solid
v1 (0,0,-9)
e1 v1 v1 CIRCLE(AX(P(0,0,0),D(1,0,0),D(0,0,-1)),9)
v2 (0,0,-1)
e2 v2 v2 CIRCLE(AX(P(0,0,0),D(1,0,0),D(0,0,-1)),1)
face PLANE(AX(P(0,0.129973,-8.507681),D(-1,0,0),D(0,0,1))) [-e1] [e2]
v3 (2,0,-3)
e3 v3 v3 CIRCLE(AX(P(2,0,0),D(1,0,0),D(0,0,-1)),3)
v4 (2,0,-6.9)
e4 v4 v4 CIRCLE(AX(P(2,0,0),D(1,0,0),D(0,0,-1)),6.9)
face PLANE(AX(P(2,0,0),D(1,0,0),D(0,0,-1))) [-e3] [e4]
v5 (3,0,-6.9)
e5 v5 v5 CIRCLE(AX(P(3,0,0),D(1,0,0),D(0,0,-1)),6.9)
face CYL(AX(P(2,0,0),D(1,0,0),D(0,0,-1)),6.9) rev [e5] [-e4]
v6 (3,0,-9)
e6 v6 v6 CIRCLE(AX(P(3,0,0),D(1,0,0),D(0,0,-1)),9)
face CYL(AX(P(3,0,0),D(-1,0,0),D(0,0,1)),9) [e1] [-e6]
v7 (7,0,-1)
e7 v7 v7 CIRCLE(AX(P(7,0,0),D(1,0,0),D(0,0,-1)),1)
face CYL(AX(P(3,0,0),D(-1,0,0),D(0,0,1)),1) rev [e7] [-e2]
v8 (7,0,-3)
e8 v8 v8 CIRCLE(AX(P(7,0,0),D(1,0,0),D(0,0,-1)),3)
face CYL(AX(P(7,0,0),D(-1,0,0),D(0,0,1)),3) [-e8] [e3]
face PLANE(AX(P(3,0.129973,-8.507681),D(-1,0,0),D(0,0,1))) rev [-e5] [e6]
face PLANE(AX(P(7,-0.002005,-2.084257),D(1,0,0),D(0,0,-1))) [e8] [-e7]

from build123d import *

# Parameters (mm, degrees)
ESQUISSE2_R             = 1
BOSS_EXTRU_1_DEPTH      = 3
ESQUISSE3_R             = 6.9
ENL_V_MAT_EXTRU_1_DEPTH = 1
ESQUISSE4_R             = 1
BOSS_EXTRU_2_DEPTH      = 5
BOSS_EXTRU_3_START      = -5
ESQUISSE6_R             = 3
ESQUISSE6_R_2           = 1
BOSS_EXTRU_3_DEPTH      = 5
BOSS_EXTRU_4_START      = -3
ESQUISSE7_R             = 9
ESQUISSE7_R_2           = 6.9
BOSS_EXTRU_4_DEPTH      = 3


with BuildPart() as part:
    # Esquisse2 → Boss.-Extru.1 (new body)
    with BuildSketch(Plane(origin=(0, 0, 0), x_dir=(0, 0, -1), z_dir=(1, 0, 0))):
        with BuildLine():
            ThreePointArc((8.992678526, 0.362950305), (8.983203595, 0.549593642), (8.969855294, 0.736000007))
            add(Edge.make_bspline(
                [(7.928017131, 0.973718567), (7.968735547, 0.978720051), (8.14599471, 0.972060465), (8.43210917, 0.923262044), (8.735368899, 0.829543111), (8.90576586, 0.762906571), (8.969855294, 0.736000007)],
                knots=[0, 0, 0, 0, 0.124841327, 0.52877899, 0.867841808, 1.076016146, 1.076016146, 1.076016146, 1.076016146], degree=3))
            ThreePointArc((7.928017131, 0.973718567), (7.845145349, 0.995861242), (7.801971612, 1.069983161))
            ThreePointArc((7.801971612, 1.069983161), (7.782401197, 1.204099918), (7.760525474, 1.337859996))
            ThreePointArc((7.760525474, 1.337859996), (7.7791127, 1.421320515), (7.851006147, 1.467607399))
            add(Edge.make_bspline(
                [(7.851006147, 1.467607399), (7.891911369, 1.47525391), (8.058869705, 1.535171146), (8.316858832, 1.668153777), (8.577616241, 1.849137964), (8.719907754, 1.964153953), (8.772869142, 2.009170729)],
                knots=[0, 0, 0, 0, 0.124841327, 0.52877899, 0.867841808, 1.076016146, 1.076016146, 1.076016146, 1.076016146], degree=3))
            ThreePointArc((8.772869142, 2.009170729), (8.729259916, 2.190895095), (8.681886815, 2.371674793))
            add(Edge.make_bspline(
                [(7.614107256, 2.413908484), (7.653213344, 2.426306797), (7.828678029, 2.452331888), (8.118887532, 2.456937748), (8.434204497, 2.420538386), (8.613944558, 2.38634682), (8.681886815, 2.371674793)],
                knots=[0, 0, 0, 0, 0.124841327, 0.52877899, 0.867841808, 1.076016146, 1.076016146, 1.076016146, 1.076016146], degree=3))
            ThreePointArc((7.614107256, 2.413908484), (7.528577818, 2.420446487), (7.472519329, 2.485373186))
            ThreePointArc((7.472519329, 2.485373186), (7.428638248, 2.613610296), (7.382556651, 2.741073201))
            ThreePointArc((7.382556651, 2.741073201), (7.385491564, 2.82652804), (7.447655696, 2.885237188))
            add(Edge.make_bspline(
                [(7.447655696, 2.885237188), (7.486459386, 2.900269817), (7.639565176, 2.989845363), (7.868726054, 3.167969089), (8.091787815, 3.393785724), (8.210522412, 3.532989345), (8.254310221, 3.586971254)],
                knots=[0, 0, 0, 0, 0.124841327, 0.52877899, 0.867841808, 1.076016146, 1.076016146, 1.076016146, 1.076016146], degree=3))
            ThreePointArc((8.254310221, 3.586971254), (8.17805176, 3.757588243), (8.098267094, 3.926585039))
            add(Edge.make_bspline(
                [(7.040908091, 3.771895641), (7.077070139, 3.791268575), (7.244765106, 3.849092091), (7.529186917, 3.906945383), (7.845823377, 3.92910513), (8.028785705, 3.928522889), (8.098267094, 3.926585039)],
                knots=[0, 0, 0, 0, 0.124841327, 0.52877899, 0.867841808, 1.076016146, 1.076016146, 1.076016146, 1.076016146], degree=3))
            ThreePointArc((7.040908091, 3.771895641), (6.955633599, 3.76260633), (6.888599363, 3.816126808))
            ThreePointArc((6.888599363, 3.816126808), (6.821901934, 3.93411731), (6.753183716, 4.050942446))
            ThreePointArc((6.753183716, 4.050942446), (6.740366371, 4.135481543), (6.790684263, 4.204613685))
            add(Edge.make_bspline(
                [(6.790684263, 4.204613685), (6.826065008, 4.226520515), (6.960104418, 4.342703981), (7.152633247, 4.559903013), (7.33040326, 4.822862182), (7.421537577, 4.981513022), (7.454660665, 5.042621775)],
                knots=[0, 0, 0, 0, 0.124841327, 0.52877899, 0.867841808, 1.076016146, 1.076016146, 1.076016146, 1.076016146], degree=3))
            ThreePointArc((7.454660665, 5.042621775), (7.34834986, 5.19632123), (7.2388706, 5.34778014))
            add(Edge.make_bspline(
                [(6.227939246, 5.001435417), (6.259925799, 5.027123248), (6.414140397, 5.114776078), (6.683088872, 5.223906679), (6.990262151, 5.303870911), (7.170216185, 5.336917824), (7.2388706, 5.34778014)],
                knots=[0, 0, 0, 0, 0.124841327, 0.52877899, 0.867841808, 1.076016146, 1.076016146, 1.076016146, 1.076016146], degree=3))
            ThreePointArc((6.227939246, 5.001435417), (6.14582362, 4.976635127), (6.070096408, 5.016926809))
            ThreePointArc((6.070096408, 5.016926809), (5.982853931, 5.120652678), (5.893839209, 5.222861704))
            ThreePointArc((5.893839209, 5.222861704), (5.865706085, 5.303606182), (5.902464222, 5.380807106))
            add(Edge.make_bspline(
                [(5.902464222, 5.380807106), (5.933217173, 5.408842125), (6.043625651, 5.547677024), (6.192966094, 5.79655491), (6.319390614, 6.087701853), (6.379821181, 6.260397247), (6.401151581, 6.32655186)],
                knots=[0, 0, 0, 0, 0.124841327, 0.52877899, 0.867841808, 1.076016146, 1.076016146, 1.076016146, 1.076016146], degree=3))
            ThreePointArc((6.401151581, 6.32655186), (6.268408719, 6.45809973), (6.13296305, 6.586863003))
            add(Edge.make_bspline(
                [(5.202885399, 6.060657308), (5.229607193, 6.091785269), (5.36508983, 6.206282501), (5.60940625, 6.362974098), (5.896655932, 6.498019729), (6.067473552, 6.563570423), (6.13296305, 6.586863003)],
                knots=[0, 0, 0, 0, 0.124841327, 0.52877899, 0.867841808, 1.076016146, 1.076016146, 1.076016146, 1.076016146], degree=3))
            ThreePointArc((5.202885399, 6.060657308), (5.126724989, 6.021190583), (5.044883599, 6.046881384))
            ThreePointArc((5.044883599, 6.046881384), (4.940067013, 6.13281036), (4.833787077, 6.216922671))
            ThreePointArc((4.833787077, 6.216922671), (4.791296214, 6.291122873), (4.813242841, 6.373763594))
            add(Edge.make_bspline(
                [(4.813242841, 6.373763594), (4.838320743, 6.406972104), (4.921338461, 6.563730579), (5.022404908, 6.835812081), (5.0931787, 7.145232139), (5.120847626, 7.326091153), (5.129658958, 7.395038808)],
                knots=[0, 0, 0, 0, 0.124841327, 0.52877899, 0.867841808, 1.076016146, 1.076016146, 1.076016146, 1.076016146], degree=3))
            ThreePointArc((5.129658958, 7.395038808), (4.975004437, 7.49995539), (4.818204799, 7.601638147))
            add(Edge.make_bspline(
                [(4.00065353, 6.913490784), (4.021200587, 6.948998848), (4.133337563, 7.086441417), (4.344702027, 7.285358066), (4.602246167, 7.470886279), (4.758110384, 7.566708503), (4.818204799, 7.601638147)],
                knots=[0, 0, 0, 0, 0.124841327, 0.52877899, 0.867841808, 1.076016146, 1.076016146, 1.076016146, 1.076016146], degree=3))
            ThreePointArc((4.00065353, 6.913490784), (3.933041887, 6.860701616), (3.84787333, 6.870916666))
            ThreePointArc((3.84787333, 6.870916666), (3.729052038, 6.936122541), (3.609126123, 6.999273793))
            ThreePointArc((3.609126123, 6.999273793), (3.553724497, 7.06440292), (3.560112248, 7.149669208))
            add(Edge.make_bspline(
                [(3.560112248, 7.149669208), (3.578661103, 7.186920332), (3.631460993, 7.356264162), (3.680811746, 7.64228387), (3.693524693, 7.959440113), (3.687489747, 8.142303811), (3.683481951, 8.21169658)],
                knots=[0, 0, 0, 0, 0.124841327, 0.52877899, 0.867841808, 1.076016146, 1.076016146, 1.076016146, 1.076016146], degree=3))
            ThreePointArc((3.683481951, 8.21169658), (3.512182346, 8.286409063), (3.339368362, 8.35754862))
            add(Edge.make_bspline(
                [(2.662184203, 7.530893622), (2.675856818, 7.569572607), (2.760829443, 7.72528007), (2.932044187, 7.959647903), (3.151112429, 8.189340757), (3.286715474, 8.3121714), (3.339368362, 8.35754862)],
                knots=[0, 0, 0, 0, 0.124841327, 0.52877899, 0.867841808, 1.076016146, 1.076016146, 1.076016146, 1.076016146], degree=3))
            ThreePointArc((2.662184203, 7.530893622), (2.605423761, 7.466579684), (2.51982835, 7.460971122))
            ThreePointArc((2.51982835, 7.460971122), (2.391048668, 7.503233388), (2.261560708, 7.543273041))
            ThreePointArc((2.261560708, 7.543273041), (2.195134954, 7.597113198), (2.185746302, 7.682101412))
            add(Edge.make_bspline(
                [(2.185746302, 7.682101412), (2.197134452, 7.722126608), (2.217918476, 7.898288992), (2.213872956, 8.188506848), (2.168092134, 8.502598901), (2.128558827, 8.681240079), (2.111868384, 8.748714873)],
                knots=[0, 0, 0, 0, 0.124841327, 0.52877899, 0.867841808, 1.076016146, 1.076016146, 1.076016146, 1.076016146], degree=3))
            ThreePointArc((2.111868384, 8.748714873), (1.929757098, 8.790679015), (1.74681374, 8.8288528))
            add(Edge.make_bspline(
                [(1.233057386, 7.891840911), (1.239389954, 7.932373648), (1.294304588, 8.101043575), (1.419539098, 8.362881478), (1.592671336, 8.628917058), (1.70339541, 8.77457327), (1.74681374, 8.8288528)],
                knots=[0, 0, 0, 0, 0.124841327, 0.52877899, 0.867841808, 1.076016146, 1.076016146, 1.076016146, 1.076016146], degree=3))
            ThreePointArc((1.233057386, 7.891840911), (1.189081054, 7.818192336), (1.105973638, 7.796951155))
            ThreePointArc((1.105973638, 7.796951155), (0.971621004, 7.81483062), (0.836980555, 7.830395172))
            ThreePointArc((0.836980555, 7.830395172), (0.761792723, 7.871112898), (0.736947387, 7.952928866))
            add(Edge.make_bspline(
                [(0.736947387, 7.952928866), (0.740787022, 7.994365125), (0.728847405, 8.171347063), (0.671543377, 8.455880046), (0.568827797, 8.756211882), (0.49714239, 8.924547128), (0.468337672, 8.987806174)],
                knots=[0, 0, 0, 0, 0.124841327, 0.52877899, 0.867841808, 1.076016146, 1.076016146, 1.076016146, 1.076016146], degree=3))
            ThreePointArc((0.468337672, 8.987806174), (0.281616286, 8.995592936), (0.094773472, 8.999500986))
            add(Edge.make_bspline(
                [(-0.238059721, 7.984041022), (-0.239282848, 8.02504722), (-0.216296258, 8.200935757), (-0.141306691, 8.481327153), (-0.020006268, 8.774645937), (0.062068259, 8.938167571), (0.094773472, 8.999500986)],
                knots=[0, 0, 0, 0, 0.124841327, 0.52877899, 0.867841808, 1.076016146, 1.076016146, 1.076016146, 1.076016146], degree=3))
            ThreePointArc((-0.238059721, 7.984041022), (-0.267754383, 7.903565825), (-0.34554368, 7.867415368))
            ThreePointArc((-0.34554368, 7.867415368), (-0.480894049, 7.860303169), (-0.616101967, 7.850862587))
            ThreePointArc((-0.616101967, 7.850862587), (-0.697491446, 7.877071289), (-0.736947387, 7.952928866))
            add(Edge.make_bspline(
                [(-0.736947387, 7.952928866), (-0.740787022, 7.994365125), (-0.78504369, 8.166139711), (-0.893654807, 8.435298391), (-1.049807289, 8.711642568), (-1.151203635, 8.863939428), (-1.191141718, 8.920828516)],
                knots=[0, 0, 0, 0, 0.124841327, 0.52877899, 0.867841808, 1.076016146, 1.076016146, 1.076016146, 1.076016146], degree=3))
            ThreePointArc((-1.191141718, 8.920828516), (-1.376114631, 8.894172728), (-1.560494193, 8.863681959))
            add(Edge.make_bspline(
                [(-1.70106999, 7.804354193), (-1.70980716, 7.844437433), (-1.719531394, 8.021554909), (-1.697340451, 8.310951405), (-1.632002584, 8.621564774), (-1.581372552, 8.797383295), (-1.560494193, 8.863681959)],
                knots=[0, 0, 0, 0, 0.124841327, 0.52877899, 0.867841808, 1.076016146, 1.076016146, 1.076016146, 1.076016146], degree=3))
            ThreePointArc((-1.70106999, 7.804354193), (-1.715471765, 7.719792859), (-1.785293922, 7.669964186))
            ThreePointArc((-1.785293922, 7.669964186), (-1.917032831, 7.638102521), (-2.048203875, 7.603978293))
            ThreePointArc((-2.048203875, 7.603978293), (-2.13302338, 7.614785465), (-2.185746302, 7.682101412))
            add(Edge.make_bspline(
                [(-2.185746302, 7.682101412), (-2.197134452, 7.722126608), (-2.272201064, 7.882844264), (-2.428420647, 8.127462766), (-2.632692446, 8.370408715), (-2.760346802, 8.501480902), (-2.810058205, 8.550062742)],
                knots=[0, 0, 0, 0, 0.124841327, 0.52877899, 0.867841808, 1.076016146, 1.076016146, 1.076016146, 1.076016146], degree=3))
            ThreePointArc((-2.810058205, 8.550062742), (-2.986983615, 8.489872136), (-3.1626211, 8.426020875))
            add(Edge.make_bspline(
                [(-3.106152361, 7.358899441), (-3.12210604, 7.396694737), (-3.164209951, 7.569009628), (-3.195573318, 7.857556174), (-3.188423008, 8.174886562), (-3.170961618, 8.357014683), (-3.1626211, 8.426020875)],
                knots=[0, 0, 0, 0, 0.124841327, 0.52877899, 0.867841808, 1.076016146, 1.076016146, 1.076016146, 1.076016146], degree=3))
            ThreePointArc((-3.106152361, 7.358899441), (-3.104770813, 7.273131606), (-3.164248122, 7.211321573))
            ThreePointArc((-3.164248122, 7.211321573), (-3.287889359, 7.155795453), (-3.410556657, 7.098149639))
            ThreePointArc((-3.410556657, 7.098149639), (-3.49591776, 7.093187254), (-3.560112248, 7.149669208))
            add(Edge.make_bspline(
                [(-3.560112248, 7.149669208), (-3.578661103, 7.186920332), (-3.681981355, 7.331108011), (-3.880489536, 7.542856145), (-4.125924419, 7.744130633), (-4.275489668, 7.84951464), (-4.33328153, 7.888134836)],
                knots=[0, 0, 0, 0, 0.124841327, 0.52877899, 0.867841808, 1.076016146, 1.076016146, 1.076016146, 1.076016146], degree=3))
            ThreePointArc((-4.33328153, 7.888134836), (-4.496134454, 7.79645913), (-4.657048739, 7.701421755))
            add(Edge.make_bspline(
                [(-4.405458438, 6.662846196), (-4.428085343, 6.697066474), (-4.501135134, 6.858710803), (-4.584984768, 7.136581292), (-4.636265512, 7.449822393), (-4.652567389, 7.632057959), (-4.657048739, 7.701421755)],
                knots=[0, 0, 0, 0, 0.124841327, 0.52877899, 0.867841808, 1.076016146, 1.076016146, 1.076016146, 1.076016146], degree=3))
            ThreePointArc((-4.405458438, 6.662846196), (-4.388340616, 6.578792579), (-4.435447646, 6.507106053))
            ThreePointArc((-4.435447646, 6.507106053), (-4.546780759, 6.429806352), (-4.656767022, 6.350602011))
            ThreePointArc((-4.656767022, 6.350602011), (-4.739762855, 6.330039059), (-4.813242841, 6.373763594))
            add(Edge.make_bspline(
                [(-4.813242841, 6.373763594), (-4.838320743, 6.406972104), (-4.966376188, 6.529719667), (-5.200413007, 6.701386604), (-5.478652985, 6.85413547), (-5.645035862, 6.930242572), (-5.70894015, 6.957585958)],
                knots=[0, 0, 0, 0, 0.124841327, 0.52877899, 0.867841808, 1.076016146, 1.076016146, 1.076016146, 1.076016146], degree=3))
            ThreePointArc((-5.70894015, 6.957585958), (-5.852174827, 6.83754706), (-5.992886168, 6.714559954))
            add(Edge.make_bspline(
                [(-5.554741912, 5.739897714), (-5.58327151, 5.769377644), (-5.684779557, 5.914846807), (-5.81826006, 6.172578694), (-5.926225553, 6.471063457), (-5.975735558, 6.647200654), (-5.992886168, 6.714559954)],
                knots=[0, 0, 0, 0, 0.124841327, 0.52877899, 0.867841808, 1.076016146, 1.076016146, 1.076016146, 1.076016146], degree=3))
            ThreePointArc((-5.554741912, 5.739897714), (-5.522470742, 5.660420661), (-5.555603321, 5.58129884))
            ThreePointArc((-5.555603321, 5.58129884), (-5.650836993, 5.484857908), (-5.744396771, 5.386792249))
            ThreePointArc((-5.744396771, 5.386792249), (-5.82220101, 5.351328976), (-5.902464222, 5.380807106))
            add(Edge.make_bspline(
                [(-5.902464222, 5.380807106), (-5.933217173, 5.408842125), (-6.081647036, 5.505969552), (-6.34324265, 5.63170938), (-6.644812595, 5.730730945), (-6.82234713, 5.774969405), (-6.89018766, 5.790104836)],
                knots=[0, 0, 0, 0, 0.124841327, 0.52877899, 0.867841808, 1.076016146, 1.076016146, 1.076016146, 1.076016146], degree=3))
            ThreePointArc((-6.89018766, 5.790104836), (-7.008926405, 5.645790525), (-7.124643046, 5.499041868))
            add(Edge.make_bspline(
                [(-6.514865313, 4.6214839), (-6.548326063, 4.645219578), (-6.674835631, 4.769559798), (-6.853401485, 4.998376331), (-7.014375092, 5.271940217), (-7.095407219, 5.435980904), (-7.124643046, 5.499041868)],
                knots=[0, 0, 0, 0, 0.124841327, 0.52877899, 0.867841808, 1.076016146, 1.076016146, 1.076016146, 1.076016146], degree=3))
            ThreePointArc((-6.514865313, 4.6214839), (-6.46853975, 4.549289907), (-6.486569587, 4.46542719))
            ThreePointArc((-6.486569587, 4.46542719), (-6.562460751, 4.353129207), (-6.636407979, 4.239541737))
            ThreePointArc((-6.636407979, 4.239541737), (-6.706371093, 4.190385802), (-6.790684263, 4.204613685))
            add(Edge.make_bspline(
                [(-6.790684263, 4.204613685), (-6.826065008, 4.226520515), (-6.989814688, 4.294720246), (-7.270060773, 4.370251048), (-7.584691081, 4.41217325), (-7.767331549, 4.423036581), (-7.836798093, 4.425448638)],
                knots=[0, 0, 0, 0, 0.124841327, 0.52877899, 0.867841808, 1.076016146, 1.076016146, 1.076016146, 1.076016146], degree=3))
            ThreePointArc((-7.836798093, 4.425448638), (-7.9269974, 4.261773366), (-8.013778751, 4.096260505))
            add(Edge.make_bspline(
                [(-7.253132789, 3.345690994), (-7.290385226, 3.362874131), (-7.437588183, 3.46185115), (-7.655158542, 3.653960257), (-7.863658499, 3.893287376), (-7.973453297, 4.039645344), (-8.013778751, 4.096260505)],
                knots=[0, 0, 0, 0, 0.124841327, 0.52877899, 0.867841808, 1.076016146, 1.076016146, 1.076016146, 1.076016146], degree=3))
            ThreePointArc((-7.253132789, 3.345690994), (-7.194330395, 3.283238541), (-7.196643507, 3.197490772))
            ThreePointArc((-7.196643507, 3.197490772), (-7.250607779, 3.073159911), (-7.302424271, 2.947918717))
            ThreePointArc((-7.302424271, 2.947918717), (-7.362163751, 2.886744066), (-7.447655696, 2.885237188))
            add(Edge.make_bspline(
                [(-7.447655696, 2.885237188), (-7.486459386, 2.900269817), (-7.659952585, 2.937219394), (-7.949305695, 2.959969057), (-8.266282009, 2.943364287), (-8.447808808, 2.920482551), (-8.516535767, 2.910089094)],
                knots=[0, 0, 0, 0, 0.124841327, 0.52877899, 0.867841808, 1.076016146, 1.076016146, 1.076016146, 1.076016146], degree=3))
            ThreePointArc((-8.516535767, 2.910089094), (-8.575124006, 2.732626625), (-8.630014832, 2.553985905))
            add(Edge.make_bspline(
                [(-7.744403527, 1.955964595), (-7.784179063, 1.966010038), (-7.94706259, 2.036253313), (-8.196228356, 2.185112949), (-8.445154448, 2.382053302), (-8.579972987, 2.505744507), (-8.630014832, 2.553985905)],
                knots=[0, 0, 0, 0, 0.124841327, 0.52877899, 0.867841808, 1.076016146, 1.076016146, 1.076016146, 1.076016146], degree=3))
            ThreePointArc((-7.744403527, 1.955964595), (-7.675126748, 1.905380425), (-7.661644363, 1.820667641))
            ThreePointArc((-7.661644363, 1.820667641), (-7.691844055, 1.68853784), (-7.719765264, 1.55590786))
            ThreePointArc((-7.719765264, 1.55590786), (-7.767246753, 1.484797724), (-7.851006147, 1.467607399))
            add(Edge.make_bspline(
                [(-7.851006147, 1.467607399), (-7.891911369, 1.47525391), (-8.069239983, 1.479695059), (-8.357846547, 1.448888871), (-8.666374618, 1.374322583), (-8.84060607, 1.318474991), (-8.906253029, 1.295629957)],
                knots=[0, 0, 0, 0, 0.124841327, 0.52877899, 0.867841808, 1.076016146, 1.076016146, 1.076016146, 1.076016146], degree=3))
            ThreePointArc((-8.906253029, 1.295629957), (-8.93123505, 1.110423563), (-8.952366108, 0.924738377))
            add(Edge.make_bspline(
                [(-7.971947891, 0.499630167), (-8.012892019, 0.502195832), (-8.185909312, 0.541313312), (-8.458185443, 0.641854241), (-8.73906079, 0.78970126), (-8.894311987, 0.886513545), (-8.952366108, 0.924738377)],
                knots=[0, 0, 0, 0, 0.124841327, 0.52877899, 0.867841808, 1.076016146, 1.076016146, 1.076016146, 1.076016146], degree=3))
            ThreePointArc((-7.971947891, 0.499630167), (-7.894555864, 0.462636863), (-7.865737109, 0.381843858))
            ThreePointArc((-7.865737109, 0.381843858), (-7.871143807, 0.246414639), (-7.874218909, 0.110912427))
            ThreePointArc((-7.874218909, 0.110912427), (-7.907825483, 0.032288375), (-7.987, 0))
            add(Edge.make_bspline(
                [(-7.987, 0), (-8.028613776, 0), (-8.203739092, -0.028218518), (-8.481770958, -0.111531489), (-8.771344233, -0.241520028), (-8.932347096, -0.328431654), (-8.992678526, -0.362950305)],
                knots=[0, 0, 0, 0, 0.124841327, 0.52877899, 0.867841808, 1.076016146, 1.076016146, 1.076016146, 1.076016146], degree=3))
            ThreePointArc((-8.992678526, -0.362950305), (-8.983203595, -0.549593642), (-8.969855294, -0.736000007))
            add(Edge.make_bspline(
                [(-7.928017131, -0.973718567), (-7.968735547, -0.978720051), (-8.14599471, -0.972060465), (-8.43210917, -0.923262044), (-8.735368899, -0.829543111), (-8.90576586, -0.762906571), (-8.969855294, -0.736000007)],
                knots=[0, 0, 0, 0, 0.124841327, 0.52877899, 0.867841808, 1.076016146, 1.076016146, 1.076016146, 1.076016146], degree=3))
            ThreePointArc((-7.928017131, -0.973718567), (-7.845145349, -0.995861242), (-7.801971612, -1.069983161))
            ThreePointArc((-7.801971612, -1.069983161), (-7.782401197, -1.204099918), (-7.760525474, -1.337859996))
            ThreePointArc((-7.760525474, -1.337859996), (-7.7791127, -1.421320515), (-7.851006147, -1.467607399))
            add(Edge.make_bspline(
                [(-7.851006147, -1.467607399), (-7.891911369, -1.47525391), (-8.058869705, -1.535171146), (-8.316858832, -1.668153777), (-8.577616241, -1.849137964), (-8.719907754, -1.964153953), (-8.772869142, -2.009170729)],
                knots=[0, 0, 0, 0, 0.124841327, 0.52877899, 0.867841808, 1.076016146, 1.076016146, 1.076016146, 1.076016146], degree=3))
            ThreePointArc((-8.772869142, -2.009170729), (-8.729259916, -2.190895095), (-8.681886815, -2.371674793))
            add(Edge.make_bspline(
                [(-7.614107256, -2.413908484), (-7.653213344, -2.426306797), (-7.828678029, -2.452331888), (-8.118887532, -2.456937748), (-8.434204497, -2.420538386), (-8.613944558, -2.38634682), (-8.681886815, -2.371674793)],
                knots=[0, 0, 0, 0, 0.124841327, 0.52877899, 0.867841808, 1.076016146, 1.076016146, 1.076016146, 1.076016146], degree=3))
            ThreePointArc((-7.614107256, -2.413908484), (-7.528577818, -2.420446487), (-7.472519329, -2.485373186))
            ThreePointArc((-7.472519329, -2.485373186), (-7.428638248, -2.613610296), (-7.382556651, -2.741073201))
            ThreePointArc((-7.382556651, -2.741073201), (-7.385491564, -2.82652804), (-7.447655696, -2.885237188))
            add(Edge.make_bspline(
                [(-7.447655696, -2.885237188), (-7.486459386, -2.900269817), (-7.639565176, -2.989845363), (-7.868726054, -3.167969089), (-8.091787815, -3.393785724), (-8.210522412, -3.532989345), (-8.254310221, -3.586971254)],
                knots=[0, 0, 0, 0, 0.124841327, 0.52877899, 0.867841808, 1.076016146, 1.076016146, 1.076016146, 1.076016146], degree=3))
            ThreePointArc((-8.254310221, -3.586971254), (-8.17805176, -3.757588243), (-8.098267094, -3.926585039))
            add(Edge.make_bspline(
                [(-7.040908091, -3.771895641), (-7.077070139, -3.791268575), (-7.244765106, -3.849092091), (-7.529186917, -3.906945383), (-7.845823377, -3.92910513), (-8.028785705, -3.928522889), (-8.098267094, -3.926585039)],
                knots=[0, 0, 0, 0, 0.124841327, 0.52877899, 0.867841808, 1.076016146, 1.076016146, 1.076016146, 1.076016146], degree=3))
            ThreePointArc((-7.040908091, -3.771895641), (-6.955633599, -3.76260633), (-6.888599363, -3.816126808))
            ThreePointArc((-6.888599363, -3.816126808), (-6.821901934, -3.93411731), (-6.753183716, -4.050942446))
            ThreePointArc((-6.753183716, -4.050942446), (-6.740366371, -4.135481543), (-6.790684263, -4.204613685))
            add(Edge.make_bspline(
                [(-6.790684263, -4.204613685), (-6.826065008, -4.226520515), (-6.960104418, -4.342703981), (-7.152633247, -4.559903013), (-7.33040326, -4.822862182), (-7.421537577, -4.981513022), (-7.454660665, -5.042621775)],
                knots=[0, 0, 0, 0, 0.124841327, 0.52877899, 0.867841808, 1.076016146, 1.076016146, 1.076016146, 1.076016146], degree=3))
            ThreePointArc((-7.454660665, -5.042621775), (-7.34834986, -5.19632123), (-7.2388706, -5.34778014))
            add(Edge.make_bspline(
                [(-6.227939246, -5.001435417), (-6.259925799, -5.027123248), (-6.414140397, -5.114776078), (-6.683088872, -5.223906679), (-6.990262151, -5.303870911), (-7.170216185, -5.336917824), (-7.2388706, -5.34778014)],
                knots=[0, 0, 0, 0, 0.124841327, 0.52877899, 0.867841808, 1.076016146, 1.076016146, 1.076016146, 1.076016146], degree=3))
            ThreePointArc((-6.227939246, -5.001435417), (-6.14582362, -4.976635127), (-6.070096408, -5.016926809))
            ThreePointArc((-6.070096408, -5.016926809), (-5.982853931, -5.120652678), (-5.893839209, -5.222861704))
            ThreePointArc((-5.893839209, -5.222861704), (-5.865706085, -5.303606182), (-5.902464222, -5.380807106))
            add(Edge.make_bspline(
                [(-5.902464222, -5.380807106), (-5.933217173, -5.408842125), (-6.043625651, -5.547677024), (-6.192966094, -5.79655491), (-6.319390614, -6.087701853), (-6.379821181, -6.260397247), (-6.401151581, -6.32655186)],
                knots=[0, 0, 0, 0, 0.124841327, 0.52877899, 0.867841808, 1.076016146, 1.076016146, 1.076016146, 1.076016146], degree=3))
            ThreePointArc((-6.401151581, -6.32655186), (-6.268408719, -6.45809973), (-6.13296305, -6.586863003))
            add(Edge.make_bspline(
                [(-5.202885399, -6.060657308), (-5.229607193, -6.091785269), (-5.36508983, -6.206282501), (-5.60940625, -6.362974098), (-5.896655932, -6.498019729), (-6.067473552, -6.563570423), (-6.13296305, -6.586863003)],
                knots=[0, 0, 0, 0, 0.124841327, 0.52877899, 0.867841808, 1.076016146, 1.076016146, 1.076016146, 1.076016146], degree=3))
            ThreePointArc((-5.202885399, -6.060657308), (-5.126724989, -6.021190583), (-5.044883599, -6.046881384))
            ThreePointArc((-5.044883599, -6.046881384), (-4.940067013, -6.13281036), (-4.833787077, -6.216922671))
            ThreePointArc((-4.833787077, -6.216922671), (-4.791296214, -6.291122873), (-4.813242841, -6.373763594))
            add(Edge.make_bspline(
                [(-4.813242841, -6.373763594), (-4.838320743, -6.406972104), (-4.921338461, -6.563730579), (-5.022404908, -6.835812081), (-5.0931787, -7.145232139), (-5.120847626, -7.326091153), (-5.129658958, -7.395038808)],
                knots=[0, 0, 0, 0, 0.124841327, 0.52877899, 0.867841808, 1.076016146, 1.076016146, 1.076016146, 1.076016146], degree=3))
            ThreePointArc((-5.129658958, -7.395038808), (-4.975004437, -7.49995539), (-4.818204799, -7.601638147))
            add(Edge.make_bspline(
                [(-4.00065353, -6.913490784), (-4.021200587, -6.948998848), (-4.133337563, -7.086441417), (-4.344702027, -7.285358066), (-4.602246167, -7.470886279), (-4.758110384, -7.566708503), (-4.818204799, -7.601638147)],
                knots=[0, 0, 0, 0, 0.124841327, 0.52877899, 0.867841808, 1.076016146, 1.076016146, 1.076016146, 1.076016146], degree=3))
            ThreePointArc((-4.00065353, -6.913490784), (-3.933041887, -6.860701616), (-3.84787333, -6.870916666))
            ThreePointArc((-3.84787333, -6.870916666), (-3.729052038, -6.936122541), (-3.609126123, -6.999273793))
            ThreePointArc((-3.609126123, -6.999273793), (-3.553724497, -7.06440292), (-3.560112248, -7.149669208))
            add(Edge.make_bspline(
                [(-3.560112248, -7.149669208), (-3.578661103, -7.186920332), (-3.631460993, -7.356264162), (-3.680811746, -7.64228387), (-3.693524693, -7.959440113), (-3.687489747, -8.142303811), (-3.683481951, -8.21169658)],
                knots=[0, 0, 0, 0, 0.124841327, 0.52877899, 0.867841808, 1.076016146, 1.076016146, 1.076016146, 1.076016146], degree=3))
            ThreePointArc((-3.683481951, -8.21169658), (-3.512182346, -8.286409063), (-3.339368362, -8.35754862))
            add(Edge.make_bspline(
                [(-2.662184203, -7.530893622), (-2.675856818, -7.569572607), (-2.760829443, -7.72528007), (-2.932044187, -7.959647903), (-3.151112429, -8.189340757), (-3.286715474, -8.3121714), (-3.339368362, -8.35754862)],
                knots=[0, 0, 0, 0, 0.124841327, 0.52877899, 0.867841808, 1.076016146, 1.076016146, 1.076016146, 1.076016146], degree=3))
            ThreePointArc((-2.662184203, -7.530893622), (-2.605423761, -7.466579684), (-2.51982835, -7.460971122))
            ThreePointArc((-2.51982835, -7.460971122), (-2.391048668, -7.503233388), (-2.261560708, -7.543273041))
            ThreePointArc((-2.261560708, -7.543273041), (-2.195134954, -7.597113198), (-2.185746302, -7.682101412))
            add(Edge.make_bspline(
                [(-2.185746302, -7.682101412), (-2.197134452, -7.722126608), (-2.217918476, -7.898288992), (-2.213872956, -8.188506848), (-2.168092134, -8.502598901), (-2.128558827, -8.681240079), (-2.111868384, -8.748714873)],
                knots=[0, 0, 0, 0, 0.124841327, 0.52877899, 0.867841808, 1.076016146, 1.076016146, 1.076016146, 1.076016146], degree=3))
            ThreePointArc((-2.111868384, -8.748714873), (-1.929757098, -8.790679015), (-1.74681374, -8.8288528))
            add(Edge.make_bspline(
                [(-1.233057386, -7.891840911), (-1.239389954, -7.932373648), (-1.294304588, -8.101043575), (-1.419539098, -8.362881478), (-1.592671336, -8.628917058), (-1.70339541, -8.77457327), (-1.74681374, -8.8288528)],
                knots=[0, 0, 0, 0, 0.124841327, 0.52877899, 0.867841808, 1.076016146, 1.076016146, 1.076016146, 1.076016146], degree=3))
            ThreePointArc((-1.233057386, -7.891840911), (-1.189081054, -7.818192336), (-1.105973638, -7.796951155))
            ThreePointArc((-1.105973638, -7.796951155), (-0.971621004, -7.81483062), (-0.836980555, -7.830395172))
            ThreePointArc((-0.836980555, -7.830395172), (-0.761792723, -7.871112898), (-0.736947387, -7.952928866))
            add(Edge.make_bspline(
                [(-0.736947387, -7.952928866), (-0.740787022, -7.994365125), (-0.728847405, -8.171347063), (-0.671543377, -8.455880046), (-0.568827797, -8.756211882), (-0.49714239, -8.924547128), (-0.468337672, -8.987806174)],
                knots=[0, 0, 0, 0, 0.124841327, 0.52877899, 0.867841808, 1.076016146, 1.076016146, 1.076016146, 1.076016146], degree=3))
            ThreePointArc((-0.468337672, -8.987806174), (-0.281616286, -8.995592936), (-0.094773472, -8.999500986))
            add(Edge.make_bspline(
                [(0.238059721, -7.984041022), (0.239282848, -8.02504722), (0.216296258, -8.200935757), (0.141306691, -8.481327153), (0.020006268, -8.774645937), (-0.062068259, -8.938167571), (-0.094773472, -8.999500986)],
                knots=[0, 0, 0, 0, 0.124841327, 0.52877899, 0.867841808, 1.076016146, 1.076016146, 1.076016146, 1.076016146], degree=3))
            ThreePointArc((0.238059721, -7.984041022), (0.267754383, -7.903565825), (0.34554368, -7.867415368))
            ThreePointArc((0.34554368, -7.867415368), (0.480894049, -7.860303169), (0.616101967, -7.850862587))
            ThreePointArc((0.616101967, -7.850862587), (0.697491446, -7.877071289), (0.736947387, -7.952928866))
            add(Edge.make_bspline(
                [(0.736947387, -7.952928866), (0.740787022, -7.994365125), (0.78504369, -8.166139711), (0.893654807, -8.435298391), (1.049807289, -8.711642568), (1.151203635, -8.863939428), (1.191141718, -8.920828516)],
                knots=[0, 0, 0, 0, 0.124841327, 0.52877899, 0.867841808, 1.076016146, 1.076016146, 1.076016146, 1.076016146], degree=3))
            ThreePointArc((1.191141718, -8.920828516), (1.376114631, -8.894172728), (1.560494193, -8.863681959))
            add(Edge.make_bspline(
                [(1.70106999, -7.804354193), (1.70980716, -7.844437433), (1.719531394, -8.021554909), (1.697340451, -8.310951405), (1.632002584, -8.621564774), (1.581372552, -8.797383295), (1.560494193, -8.863681959)],
                knots=[0, 0, 0, 0, 0.124841327, 0.52877899, 0.867841808, 1.076016146, 1.076016146, 1.076016146, 1.076016146], degree=3))
            ThreePointArc((1.70106999, -7.804354193), (1.715471765, -7.719792859), (1.785293922, -7.669964186))
            ThreePointArc((1.785293922, -7.669964186), (1.917032831, -7.638102521), (2.048203875, -7.603978293))
            ThreePointArc((2.048203875, -7.603978293), (2.13302338, -7.614785465), (2.185746302, -7.682101412))
            add(Edge.make_bspline(
                [(2.185746302, -7.682101412), (2.197134452, -7.722126608), (2.272201064, -7.882844264), (2.428420647, -8.127462766), (2.632692446, -8.370408715), (2.760346802, -8.501480902), (2.810058205, -8.550062742)],
                knots=[0, 0, 0, 0, 0.124841327, 0.52877899, 0.867841808, 1.076016146, 1.076016146, 1.076016146, 1.076016146], degree=3))
            ThreePointArc((2.810058205, -8.550062742), (2.986983615, -8.489872136), (3.1626211, -8.426020875))
            add(Edge.make_bspline(
                [(3.106152361, -7.358899441), (3.12210604, -7.396694737), (3.164209951, -7.569009628), (3.195573318, -7.857556174), (3.188423008, -8.174886562), (3.170961618, -8.357014683), (3.1626211, -8.426020875)],
                knots=[0, 0, 0, 0, 0.124841327, 0.52877899, 0.867841808, 1.076016146, 1.076016146, 1.076016146, 1.076016146], degree=3))
            ThreePointArc((3.106152361, -7.358899441), (3.104770813, -7.273131606), (3.164248122, -7.211321573))
            ThreePointArc((3.164248122, -7.211321573), (3.287889359, -7.155795453), (3.410556657, -7.098149639))
            ThreePointArc((3.410556657, -7.098149639), (3.49591776, -7.093187254), (3.560112248, -7.149669208))
            add(Edge.make_bspline(
                [(3.560112248, -7.149669208), (3.578661103, -7.186920332), (3.681981355, -7.331108011), (3.880489536, -7.542856145), (4.125924419, -7.744130633), (4.275489668, -7.84951464), (4.33328153, -7.888134836)],
                knots=[0, 0, 0, 0, 0.124841327, 0.52877899, 0.867841808, 1.076016146, 1.076016146, 1.076016146, 1.076016146], degree=3))
            ThreePointArc((4.33328153, -7.888134836), (4.496134454, -7.79645913), (4.657048739, -7.701421755))
            add(Edge.make_bspline(
                [(4.405458438, -6.662846196), (4.428085343, -6.697066474), (4.501135134, -6.858710803), (4.584984768, -7.136581292), (4.636265512, -7.449822393), (4.652567389, -7.632057959), (4.657048739, -7.701421755)],
                knots=[0, 0, 0, 0, 0.124841327, 0.52877899, 0.867841808, 1.076016146, 1.076016146, 1.076016146, 1.076016146], degree=3))
            ThreePointArc((4.405458438, -6.662846196), (4.388340616, -6.578792579), (4.435447646, -6.507106053))
            ThreePointArc((4.435447646, -6.507106053), (4.546780759, -6.429806352), (4.656767022, -6.350602011))
            ThreePointArc((4.656767022, -6.350602011), (4.739762855, -6.330039059), (4.813242841, -6.373763594))
            add(Edge.make_bspline(
                [(4.813242841, -6.373763594), (4.838320743, -6.406972104), (4.966376188, -6.529719667), (5.200413007, -6.701386604), (5.478652985, -6.85413547), (5.645035862, -6.930242572), (5.70894015, -6.957585958)],
                knots=[0, 0, 0, 0, 0.124841327, 0.52877899, 0.867841808, 1.076016146, 1.076016146, 1.076016146, 1.076016146], degree=3))
            ThreePointArc((5.70894015, -6.957585958), (5.852174827, -6.83754706), (5.992886168, -6.714559954))
            add(Edge.make_bspline(
                [(5.554741912, -5.739897714), (5.58327151, -5.769377644), (5.684779557, -5.914846807), (5.81826006, -6.172578694), (5.926225553, -6.471063457), (5.975735558, -6.647200654), (5.992886168, -6.714559954)],
                knots=[0, 0, 0, 0, 0.124841327, 0.52877899, 0.867841808, 1.076016146, 1.076016146, 1.076016146, 1.076016146], degree=3))
            ThreePointArc((5.554741912, -5.739897714), (5.522470742, -5.660420661), (5.555603321, -5.58129884))
            ThreePointArc((5.555603321, -5.58129884), (5.650836993, -5.484857908), (5.744396771, -5.386792249))
            ThreePointArc((5.744396771, -5.386792249), (5.82220101, -5.351328976), (5.902464222, -5.380807106))
            add(Edge.make_bspline(
                [(5.902464222, -5.380807106), (5.933217173, -5.408842125), (6.081647036, -5.505969552), (6.34324265, -5.63170938), (6.644812595, -5.730730945), (6.82234713, -5.774969405), (6.89018766, -5.790104836)],
                knots=[0, 0, 0, 0, 0.124841327, 0.52877899, 0.867841808, 1.076016146, 1.076016146, 1.076016146, 1.076016146], degree=3))
            ThreePointArc((6.89018766, -5.790104836), (7.008926405, -5.645790525), (7.124643046, -5.499041868))
            add(Edge.make_bspline(
                [(6.514865313, -4.6214839), (6.548326063, -4.645219578), (6.674835631, -4.769559798), (6.853401485, -4.998376331), (7.014375092, -5.271940217), (7.095407219, -5.435980904), (7.124643046, -5.499041868)],
                knots=[0, 0, 0, 0, 0.124841327, 0.52877899, 0.867841808, 1.076016146, 1.076016146, 1.076016146, 1.076016146], degree=3))
            ThreePointArc((6.514865313, -4.6214839), (6.46853975, -4.549289907), (6.486569587, -4.46542719))
            ThreePointArc((6.486569587, -4.46542719), (6.562460751, -4.353129207), (6.636407979, -4.239541737))
            ThreePointArc((6.636407979, -4.239541737), (6.706371093, -4.190385802), (6.790684263, -4.204613685))
            add(Edge.make_bspline(
                [(6.790684263, -4.204613685), (6.826065008, -4.226520515), (6.989814688, -4.294720246), (7.270060773, -4.370251048), (7.584691081, -4.41217325), (7.767331549, -4.423036581), (7.836798093, -4.425448638)],
                knots=[0, 0, 0, 0, 0.124841327, 0.52877899, 0.867841808, 1.076016146, 1.076016146, 1.076016146, 1.076016146], degree=3))
            ThreePointArc((7.836798093, -4.425448638), (7.9269974, -4.261773366), (8.013778751, -4.096260505))
            add(Edge.make_bspline(
                [(7.253132789, -3.345690994), (7.290385226, -3.362874131), (7.437588183, -3.46185115), (7.655158542, -3.653960257), (7.863658499, -3.893287376), (7.973453297, -4.039645344), (8.013778751, -4.096260505)],
                knots=[0, 0, 0, 0, 0.124841327, 0.52877899, 0.867841808, 1.076016146, 1.076016146, 1.076016146, 1.076016146], degree=3))
            ThreePointArc((7.253132789, -3.345690994), (7.194330395, -3.283238541), (7.196643507, -3.197490772))
            ThreePointArc((7.196643507, -3.197490772), (7.250607779, -3.073159911), (7.302424271, -2.947918717))
            ThreePointArc((7.302424271, -2.947918717), (7.362163751, -2.886744066), (7.447655696, -2.885237188))
            add(Edge.make_bspline(
                [(7.447655696, -2.885237188), (7.486459386, -2.900269817), (7.659952585, -2.937219394), (7.949305695, -2.959969057), (8.266282009, -2.943364287), (8.447808808, -2.920482551), (8.516535767, -2.910089094)],
                knots=[0, 0, 0, 0, 0.124841327, 0.52877899, 0.867841808, 1.076016146, 1.076016146, 1.076016146, 1.076016146], degree=3))
            ThreePointArc((8.516535767, -2.910089094), (8.575124006, -2.732626625), (8.630014832, -2.553985905))
            add(Edge.make_bspline(
                [(7.744403527, -1.955964595), (7.784179063, -1.966010038), (7.94706259, -2.036253313), (8.196228356, -2.185112949), (8.445154448, -2.382053302), (8.579972987, -2.505744507), (8.630014832, -2.553985905)],
                knots=[0, 0, 0, 0, 0.124841327, 0.52877899, 0.867841808, 1.076016146, 1.076016146, 1.076016146, 1.076016146], degree=3))
            ThreePointArc((7.744403527, -1.955964595), (7.675126748, -1.905380425), (7.661644363, -1.820667641))
            ThreePointArc((7.661644363, -1.820667641), (7.691844055, -1.68853784), (7.719765264, -1.55590786))
            ThreePointArc((7.719765264, -1.55590786), (7.767246753, -1.484797724), (7.851006147, -1.467607399))
            add(Edge.make_bspline(
                [(7.851006147, -1.467607399), (7.891911369, -1.47525391), (8.069239983, -1.479695059), (8.357846547, -1.448888871), (8.666374618, -1.374322583), (8.84060607, -1.318474991), (8.906253029, -1.295629957)],
                knots=[0, 0, 0, 0, 0.124841327, 0.52877899, 0.867841808, 1.076016146, 1.076016146, 1.076016146, 1.076016146], degree=3))
            ThreePointArc((8.906253029, -1.295629957), (8.93123505, -1.110423563), (8.952366108, -0.924738377))
            add(Edge.make_bspline(
                [(7.971947891, -0.499630167), (8.012892019, -0.502195832), (8.185909312, -0.541313312), (8.458185443, -0.641854241), (8.73906079, -0.78970126), (8.894311987, -0.886513545), (8.952366108, -0.924738377)],
                knots=[0, 0, 0, 0, 0.124841327, 0.52877899, 0.867841808, 1.076016146, 1.076016146, 1.076016146, 1.076016146], degree=3))
            ThreePointArc((7.971947891, -0.499630167), (7.894555864, -0.462636863), (7.865737109, -0.381843858))
            ThreePointArc((7.865737109, -0.381843858), (7.871143807, -0.246414639), (7.874218909, -0.110912427))
            ThreePointArc((7.874218909, -0.110912427), (7.907825483, -0.032288375), (7.987, 0))
            add(Edge.make_bspline(
                [(7.987, 0), (8.028613776, 0), (8.203739092, 0.028218518), (8.481770958, 0.111531489), (8.771344233, 0.241520028), (8.932347096, 0.328431654), (8.992678526, 0.362950305)],
                knots=[0, 0, 0, 0, 0.124841327, 0.52877899, 0.867841808, 1.076016146, 1.076016146, 1.076016146, 1.076016146], degree=3))
        make_face()
        Circle(ESQUISSE2_R, mode=Mode.SUBTRACT)
    extrude(amount=BOSS_EXTRU_1_DEPTH)

    # Esquisse3 → Enlèv. mat.-Extru.1 (cut)
    with BuildSketch(Plane(origin=(3, 0, 0), x_dir=(0, 0, -1), z_dir=(1, 0, 0))):
        Circle(ESQUISSE3_R)
    extrude(amount=-ENL_V_MAT_EXTRU_1_DEPTH, mode=Mode.SUBTRACT)

    # Esquisse4 → Boss.-Extru.2 (add)
    with BuildSketch(Plane(origin=(2, 0, 0), x_dir=(0, 0, -1), z_dir=(1, 0, 0))):
        with BuildLine():
            ThreePointArc((2.977310095, 0.368272455), (2.955741127, 0.513414445), (2.927100903, 0.657328154))
            add(Edge.make_bspline(
                [(2.211403727, 0.79214554), (2.222779445, 0.796220429), (2.274133198, 0.805614359), (2.359373738, 0.810478726), (2.538607422, 0.796225963), (2.732062921, 0.744216047), (2.878239296, 0.681280138), (2.927100903, 0.657328154)],
                knots=[0, 0, 0, 0, 0.036250587, 0.155621312, 0.255291203, 0.575254513, 0.744084786, 0.744084786, 0.744084786, 0.744084786], degree=3))
            add(Edge.make_bspline(
                [(2.211403727, 0.79214554), (2.132130324, 0.763749064), (1.99001212, 0.681956821), (1.750090704, 0.694113528), (1.707279056, 0.775127876)],
                knots=[0, 0, 0, 0, 0.252617676, 0.527509393, 0.527509393, 0.527509393, 0.527509393], degree=3))
            ThreePointArc((1.707279056, 0.775127876), (1.657764419, 0.876037746), (1.602292085, 0.973799299))
            add(Edge.make_bspline(
                [(1.90038092, 1.380707558), (1.832256922, 1.331212576), (1.684611138, 1.259880414), (1.559480437, 1.054813647), (1.602292085, 0.973799299)],
                knots=[0, 0, 0, 0, 0.252617676, 0.527509393, 0.527509393, 0.527509393, 0.527509393], degree=3))
            add(Edge.make_bspline(
                [(1.90038092, 1.380707558), (1.9101567, 1.387810078), (1.946851003, 1.424944725), (1.998895263, 1.49262786), (2.088102134, 1.648736761), (2.154127637, 1.837868182), (2.184488772, 1.994094501), (2.192229346, 2.04795764)],
                knots=[0, 0, 0, 0, 0.036250587, 0.155621312, 0.255291203, 0.575254513, 0.744084786, 0.744084786, 0.744084786, 0.744084786], degree=3))
            ThreePointArc((2.192229346, 2.04795764), (2.089467363, 2.152702055), (1.98170658, 2.25229639))
            add(Edge.make_bspline(
                [(1.32345173, 1.940689701), (1.33025972, 1.950672835), (1.366284165, 1.988457663), (1.432386008, 2.04249615), (1.585766668, 2.136316339), (1.772846116, 2.207949723), (1.928098087, 2.242953821), (1.98170658, 2.25229639)],
                knots=[0, 0, 0, 0, 0.036250587, 0.155621312, 0.255291203, 0.575254513, 0.744084786, 0.744084786, 0.744084786, 0.744084786], degree=3))
            add(Edge.make_bspline(
                [(1.32345173, 1.940689701), (1.27600923, 1.871120733), (1.209109462, 1.721414433), (1.007863426, 1.590227146), (0.925609036, 1.630605075)],
                knots=[0, 0, 0, 0, 0.252617676, 0.527509393, 0.527509393, 0.527509393, 0.527509393], degree=3))
            ThreePointArc((0.925609036, 1.630605075), (0.82623752, 1.683138901), (0.72389666, 1.729623839))
            add(Edge.make_bspline(
                [(0.72588092, 2.234031757), (0.699859868, 2.153947194), (0.622339913, 2.009454248), (0.641642271, 1.770001768), (0.72389666, 1.729623839)],
                knots=[0, 0, 0, 0, 0.252617676, 0.527509393, 0.527509393, 0.527509393, 0.527509393], degree=3))
            add(Edge.make_bspline(
                [(0.72588092, 2.234031757), (0.729614936, 2.245523876), (0.737474053, 2.297134806), (0.739795594, 2.382482461), (0.720206959, 2.561211698), (0.662454053, 2.753031049), (0.595189201, 2.897266624), (0.569791499, 2.945392614)],
                knots=[0, 0, 0, 0, 0.036250587, 0.155621312, 0.255291203, 0.575254513, 0.744084786, 0.744084786, 0.744084786, 0.744084786], degree=3))
            ThreePointArc((0.569791499, 2.945392614), (0.425088085, 2.969730648), (0.279367699, 2.986963958))
            add(Edge.make_bspline(
                [(-0.070013845, 2.347956359), (-0.070374004, 2.360034519), (-0.063438981, 2.411777724), (-0.041724492, 2.494349468), (0.027216945, 2.660406485), (0.136462351, 2.82832165), (0.241488941, 2.947895379), (0.279367699, 2.986963958)],
                knots=[0, 0, 0, 0, 0.036250587, 0.155621312, 0.255291203, 0.575254513, 0.744084786, 0.744084786, 0.744084786, 0.744084786], degree=3))
            add(Edge.make_bspline(
                [(-0.070013845, 2.347956359), (-0.06750402, 2.263787878), (-0.033631914, 2.103350241), (-0.119333425, 1.878928045), (-0.209612175, 1.863246558)],
                knots=[0, 0, 0, 0, 0.252617676, 0.527509393, 0.527509393, 0.527509393, 0.527509393], degree=3))
            ThreePointArc((-0.209612175, 1.863246558), (-0.320884028, 1.847338204), (-0.431002684, 1.824790861))
            add(Edge.make_bspline(
                [(-0.72588092, 2.234031757), (-0.699859868, 2.153947194), (-0.677644007, 1.991484859), (-0.521281435, 1.809109374), (-0.431002684, 1.824790861)],
                knots=[0, 0, 0, 0, 0.252617676, 0.527509393, 0.527509393, 0.527509393, 0.527509393], degree=3))
            add(Edge.make_bspline(
                [(-0.72588092, 2.234031757), (-0.729614936, 2.245523876), (-0.75359292, 2.291897469), (-0.801880846, 2.36230974), (-0.922782795, 2.495390819), (-1.082254463, 2.616629628), (-1.221452415, 2.693781371), (-1.270287335, 2.717787719)],
                knots=[0, 0, 0, 0, 0.036250587, 0.155621312, 0.255291203, 0.575254513, 0.744084786, 0.744084786, 0.744084786, 0.744084786], degree=3))
            ThreePointArc((-1.270287335, 2.717787719), (-1.401660393, 2.65242307), (-1.529680147, 2.580712818))
            add(Edge.make_bspline(
                [(-1.436736511, 1.858383491), (-1.44412725, 1.867943232), (-1.468930592, 1.913880668), (-1.499897654, 1.993446068), (-1.541728726, 2.168311777), (-1.552045394, 2.368370838), (-1.537360771, 2.526841097), (-1.529680147, 2.580712818)],
                knots=[0, 0, 0, 0, 0.036250587, 0.155621312, 0.255291203, 0.575254513, 0.744084786, 0.744084786, 0.744084786, 0.744084786], degree=3))
            add(Edge.make_bspline(
                [(-1.436736511, 1.858383491), (-1.385233029, 1.791764998), (-1.263527042, 1.681877747), (-1.200948963, 1.449942292), (-1.26476866, 1.384191185)],
                knots=[0, 0, 0, 0, 0.252617676, 0.527509393, 0.527509393, 0.527509393, 0.527509393], degree=3))
            ThreePointArc((-1.26476866, 1.384191185), (-1.345438785, 1.305917102), (-1.421273653, 1.222949796))
            add(Edge.make_bspline(
                [(-1.90038092, 1.380707558), (-1.832256922, 1.331212576), (-1.718790948, 1.212835941), (-1.48509335, 1.157198689), (-1.421273653, 1.222949796)],
                knots=[0, 0, 0, 0, 0.252617676, 0.527509393, 0.527509393, 0.527509393, 0.527509393], degree=3))
            add(Edge.make_bspline(
                [(-1.90038092, 1.380707558), (-1.9101567, 1.387810078), (-1.956813011, 1.411233197), (-2.037266059, 1.43981499), (-2.213300886, 1.476415463), (-2.413578559, 1.480764624), (-2.571540724, 1.461363192), (-2.625159582, 1.45208029)],
                knots=[0, 0, 0, 0, 0.036250587, 0.155621312, 0.255291203, 0.575254513, 0.744084786, 0.744084786, 0.744084786, 0.744084786], degree=3))
            ThreePointArc((-2.625159582, 1.45208029), (-2.693022242, 1.321980032), (-2.75444217, 1.188717096))
            add(Edge.make_bspline(
                [(-2.254674663, 0.658971294), (-2.266272971, 0.662361119), (-2.313340644, 0.684946248), (-2.385160892, 0.731114025), (-2.521786425, 0.847995669), (-2.64772455, 1.003782864), (-2.728990923, 1.140619401), (-2.75444217, 1.188717096)],
                knots=[0, 0, 0, 0, 0.036250587, 0.155621312, 0.255291203, 0.575254513, 0.744084786, 0.744084786, 0.744084786, 0.744084786], degree=3))
            add(Edge.make_bspline(
                [(-2.254674663, 0.658971294), (-2.173850103, 0.635348788), (-2.010797786, 0.617985118), (-1.823842817, 0.467127866), (-1.836826505, 0.376421826)],
                knots=[0, 0, 0, 0, 0.252617676, 0.527509393, 0.527509393, 0.527509393, 0.527509393], degree=3))
            ThreePointArc((-1.836826505, 0.376421826), (-1.856081655, 0.265680053), (-1.868666393, 0.153983476))
            add(Edge.make_bspline(
                [(-2.349, 0), (-2.264794108, 0), (-2.103418166, -0.029075083), (-1.881650081, 0.063277436), (-1.868666393, 0.153983476)],
                knots=[0, 0, 0, 0, 0.252617676, 0.527509393, 0.527509393, 0.527509393, 0.527509393], degree=3))
            add(Edge.make_bspline(
                [(-2.349, 0), (-2.361083529, 0), (-2.412597041, -0.00847419), (-2.494484881, -0.032640149), (-2.658413265, -0.106500419), (-2.822997679, -0.220702136), (-2.93938788, -0.329246056), (-2.977310095, -0.368272455)],
                knots=[0, 0, 0, 0, 0.036250587, 0.155621312, 0.255291203, 0.575254513, 0.744084786, 0.744084786, 0.744084786, 0.744084786], degree=3))
            ThreePointArc((-2.977310095, -0.368272455), (-2.955741127, -0.513414445), (-2.927100903, -0.657328154))
            add(Edge.make_bspline(
                [(-2.211403727, -0.79214554), (-2.222779445, -0.796220429), (-2.274133198, -0.805614359), (-2.359373738, -0.810478726), (-2.538607422, -0.796225963), (-2.732062921, -0.744216047), (-2.878239296, -0.681280138), (-2.927100903, -0.657328154)],
                knots=[0, 0, 0, 0, 0.036250587, 0.155621312, 0.255291203, 0.575254513, 0.744084786, 0.744084786, 0.744084786, 0.744084786], degree=3))
            add(Edge.make_bspline(
                [(-2.211403727, -0.79214554), (-2.132130324, -0.763749064), (-1.99001212, -0.681956821), (-1.750090704, -0.694113528), (-1.707279056, -0.775127876)],
                knots=[0, 0, 0, 0, 0.252617676, 0.527509393, 0.527509393, 0.527509393, 0.527509393], degree=3))
            ThreePointArc((-1.707279056, -0.775127876), (-1.657764419, -0.876037746), (-1.602292085, -0.973799299))
            add(Edge.make_bspline(
                [(-1.90038092, -1.380707558), (-1.832256922, -1.331212576), (-1.684611138, -1.259880414), (-1.559480437, -1.054813647), (-1.602292085, -0.973799299)],
                knots=[0, 0, 0, 0, 0.252617676, 0.527509393, 0.527509393, 0.527509393, 0.527509393], degree=3))
            add(Edge.make_bspline(
                [(-1.90038092, -1.380707558), (-1.9101567, -1.387810078), (-1.946851003, -1.424944725), (-1.998895263, -1.49262786), (-2.088102134, -1.648736761), (-2.154127637, -1.837868182), (-2.184488772, -1.994094501), (-2.192229346, -2.04795764)],
                knots=[0, 0, 0, 0, 0.036250587, 0.155621312, 0.255291203, 0.575254513, 0.744084786, 0.744084786, 0.744084786, 0.744084786], degree=3))
            ThreePointArc((-2.192229346, -2.04795764), (-2.089467363, -2.152702055), (-1.98170658, -2.25229639))
            add(Edge.make_bspline(
                [(-1.32345173, -1.940689701), (-1.33025972, -1.950672835), (-1.366284165, -1.988457663), (-1.432386008, -2.04249615), (-1.585766668, -2.136316339), (-1.772846116, -2.207949723), (-1.928098087, -2.242953821), (-1.98170658, -2.25229639)],
                knots=[0, 0, 0, 0, 0.036250587, 0.155621312, 0.255291203, 0.575254513, 0.744084786, 0.744084786, 0.744084786, 0.744084786], degree=3))
            add(Edge.make_bspline(
                [(-1.32345173, -1.940689701), (-1.27600923, -1.871120733), (-1.209109462, -1.721414433), (-1.007863426, -1.590227146), (-0.925609036, -1.630605075)],
                knots=[0, 0, 0, 0, 0.252617676, 0.527509393, 0.527509393, 0.527509393, 0.527509393], degree=3))
            ThreePointArc((-0.925609036, -1.630605075), (-0.82623752, -1.683138901), (-0.72389666, -1.729623839))
            add(Edge.make_bspline(
                [(-0.72588092, -2.234031757), (-0.699859868, -2.153947194), (-0.622339913, -2.009454248), (-0.641642271, -1.770001768), (-0.72389666, -1.729623839)],
                knots=[0, 0, 0, 0, 0.252617676, 0.527509393, 0.527509393, 0.527509393, 0.527509393], degree=3))
            add(Edge.make_bspline(
                [(-0.72588092, -2.234031757), (-0.729614936, -2.245523876), (-0.737474053, -2.297134806), (-0.739795594, -2.382482461), (-0.720206959, -2.561211698), (-0.662454053, -2.753031049), (-0.595189201, -2.897266624), (-0.569791499, -2.945392614)],
                knots=[0, 0, 0, 0, 0.036250587, 0.155621312, 0.255291203, 0.575254513, 0.744084786, 0.744084786, 0.744084786, 0.744084786], degree=3))
            ThreePointArc((-0.569791499, -2.945392614), (-0.425088085, -2.969730648), (-0.279367699, -2.986963958))
            add(Edge.make_bspline(
                [(0.070013845, -2.347956359), (0.070374004, -2.360034519), (0.063438981, -2.411777724), (0.041724492, -2.494349468), (-0.027216945, -2.660406485), (-0.136462351, -2.82832165), (-0.241488941, -2.947895379), (-0.279367699, -2.986963958)],
                knots=[0, 0, 0, 0, 0.036250587, 0.155621312, 0.255291203, 0.575254513, 0.744084786, 0.744084786, 0.744084786, 0.744084786], degree=3))
            add(Edge.make_bspline(
                [(0.070013845, -2.347956359), (0.06750402, -2.263787879), (0.033631914, -2.103350241), (0.119333425, -1.878928045), (0.209612175, -1.863246558)],
                knots=[0, 0, 0, 0, 0.252617676, 0.527509393, 0.527509393, 0.527509393, 0.527509393], degree=3))
            ThreePointArc((0.209612175, -1.863246558), (0.320884028, -1.847338204), (0.431002684, -1.824790861))
            add(Edge.make_bspline(
                [(0.72588092, -2.234031757), (0.699859868, -2.153947194), (0.677644007, -1.991484859), (0.521281435, -1.809109374), (0.431002684, -1.824790861)],
                knots=[0, 0, 0, 0, 0.252617676, 0.527509393, 0.527509393, 0.527509393, 0.527509393], degree=3))
            add(Edge.make_bspline(
                [(0.72588092, -2.234031757), (0.729614936, -2.245523876), (0.75359292, -2.291897469), (0.801880846, -2.36230974), (0.922782795, -2.495390819), (1.082254463, -2.616629628), (1.221452415, -2.693781371), (1.270287335, -2.717787719)],
                knots=[0, 0, 0, 0, 0.036250587, 0.155621312, 0.255291203, 0.575254513, 0.744084786, 0.744084786, 0.744084786, 0.744084786], degree=3))
            ThreePointArc((1.270287335, -2.717787719), (1.401660393, -2.65242307), (1.529680147, -2.580712818))
            add(Edge.make_bspline(
                [(1.436736511, -1.858383491), (1.44412725, -1.867943232), (1.468930592, -1.913880668), (1.499897654, -1.993446068), (1.541728726, -2.168311777), (1.552045394, -2.368370838), (1.537360771, -2.526841097), (1.529680147, -2.580712818)],
                knots=[0, 0, 0, 0, 0.036250587, 0.155621312, 0.255291203, 0.575254513, 0.744084786, 0.744084786, 0.744084786, 0.744084786], degree=3))
            add(Edge.make_bspline(
                [(1.436736511, -1.858383491), (1.385233029, -1.791764998), (1.263527042, -1.681877747), (1.200948963, -1.449942292), (1.26476866, -1.384191185)],
                knots=[0, 0, 0, 0, 0.252617676, 0.527509393, 0.527509393, 0.527509393, 0.527509393], degree=3))
            ThreePointArc((1.26476866, -1.384191185), (1.345438785, -1.305917102), (1.421273653, -1.222949796))
            add(Edge.make_bspline(
                [(1.90038092, -1.380707558), (1.832256922, -1.331212576), (1.718790948, -1.212835941), (1.48509335, -1.157198689), (1.421273653, -1.222949796)],
                knots=[0, 0, 0, 0, 0.252617676, 0.527509393, 0.527509393, 0.527509393, 0.527509393], degree=3))
            add(Edge.make_bspline(
                [(1.90038092, -1.380707558), (1.9101567, -1.387810078), (1.956813011, -1.411233197), (2.037266059, -1.43981499), (2.213300886, -1.476415463), (2.413578559, -1.480764624), (2.571540724, -1.461363192), (2.625159582, -1.45208029)],
                knots=[0, 0, 0, 0, 0.036250587, 0.155621312, 0.255291203, 0.575254513, 0.744084786, 0.744084786, 0.744084786, 0.744084786], degree=3))
            ThreePointArc((2.625159582, -1.45208029), (2.693022242, -1.321980032), (2.75444217, -1.188717096))
            add(Edge.make_bspline(
                [(2.254674663, -0.658971294), (2.266272971, -0.662361119), (2.313340644, -0.684946248), (2.385160892, -0.731114025), (2.521786425, -0.847995669), (2.64772455, -1.003782864), (2.728990923, -1.140619401), (2.75444217, -1.188717096)],
                knots=[0, 0, 0, 0, 0.036250587, 0.155621312, 0.255291203, 0.575254513, 0.744084786, 0.744084786, 0.744084786, 0.744084786], degree=3))
            add(Edge.make_bspline(
                [(2.254674663, -0.658971294), (2.173850103, -0.635348788), (2.010797786, -0.617985118), (1.823842817, -0.467127866), (1.836826505, -0.376421826)],
                knots=[0, 0, 0, 0, 0.252617676, 0.527509393, 0.527509393, 0.527509393, 0.527509393], degree=3))
            ThreePointArc((1.836826505, -0.376421826), (1.856081655, -0.265680053), (1.868666393, -0.153983476))
            add(Edge.make_bspline(
                [(2.349, 0), (2.264794108, 0), (2.103418166, 0.029075083), (1.881650081, -0.063277436), (1.868666393, -0.153983476)],
                knots=[0, 0, 0, 0, 0.252617676, 0.527509393, 0.527509393, 0.527509393, 0.527509393], degree=3))
            add(Edge.make_bspline(
                [(2.349, 0), (2.361083529, 0), (2.412597041, 0.00847419), (2.494484881, 0.032640149), (2.658413265, 0.106500419), (2.822997679, 0.220702136), (2.93938788, 0.329246056), (2.977310095, 0.368272455)],
                knots=[0, 0, 0, 0, 0.036250587, 0.155621312, 0.255291203, 0.575254513, 0.744084786, 0.744084786, 0.744084786, 0.744084786], degree=3))
        make_face()
        Circle(ESQUISSE4_R, mode=Mode.SUBTRACT)
    extrude(amount=BOSS_EXTRU_2_DEPTH)

    # Esquisse6 → Boss.-Extru.3 (add)
    with BuildSketch(Plane(origin=(7, 0, 0), x_dir=(0, 0, -1), z_dir=(1, 0, 0)).offset(BOSS_EXTRU_3_START)):
        Circle(ESQUISSE6_R)
        Circle(ESQUISSE6_R_2, mode=Mode.SUBTRACT)
    extrude(amount=BOSS_EXTRU_3_DEPTH)

    # Esquisse7 → Boss.-Extru.4 (add)
    with BuildSketch(Plane(origin=(3, 0, 0), x_dir=(0, 0, -1), z_dir=(1, 0, 0)).offset(BOSS_EXTRU_4_START)):
        Circle(ESQUISSE7_R)
        Circle(ESQUISSE7_R_2, mode=Mode.SUBTRACT)
    extrude(amount=BOSS_EXTRU_4_DEPTH)


solid = part.part
